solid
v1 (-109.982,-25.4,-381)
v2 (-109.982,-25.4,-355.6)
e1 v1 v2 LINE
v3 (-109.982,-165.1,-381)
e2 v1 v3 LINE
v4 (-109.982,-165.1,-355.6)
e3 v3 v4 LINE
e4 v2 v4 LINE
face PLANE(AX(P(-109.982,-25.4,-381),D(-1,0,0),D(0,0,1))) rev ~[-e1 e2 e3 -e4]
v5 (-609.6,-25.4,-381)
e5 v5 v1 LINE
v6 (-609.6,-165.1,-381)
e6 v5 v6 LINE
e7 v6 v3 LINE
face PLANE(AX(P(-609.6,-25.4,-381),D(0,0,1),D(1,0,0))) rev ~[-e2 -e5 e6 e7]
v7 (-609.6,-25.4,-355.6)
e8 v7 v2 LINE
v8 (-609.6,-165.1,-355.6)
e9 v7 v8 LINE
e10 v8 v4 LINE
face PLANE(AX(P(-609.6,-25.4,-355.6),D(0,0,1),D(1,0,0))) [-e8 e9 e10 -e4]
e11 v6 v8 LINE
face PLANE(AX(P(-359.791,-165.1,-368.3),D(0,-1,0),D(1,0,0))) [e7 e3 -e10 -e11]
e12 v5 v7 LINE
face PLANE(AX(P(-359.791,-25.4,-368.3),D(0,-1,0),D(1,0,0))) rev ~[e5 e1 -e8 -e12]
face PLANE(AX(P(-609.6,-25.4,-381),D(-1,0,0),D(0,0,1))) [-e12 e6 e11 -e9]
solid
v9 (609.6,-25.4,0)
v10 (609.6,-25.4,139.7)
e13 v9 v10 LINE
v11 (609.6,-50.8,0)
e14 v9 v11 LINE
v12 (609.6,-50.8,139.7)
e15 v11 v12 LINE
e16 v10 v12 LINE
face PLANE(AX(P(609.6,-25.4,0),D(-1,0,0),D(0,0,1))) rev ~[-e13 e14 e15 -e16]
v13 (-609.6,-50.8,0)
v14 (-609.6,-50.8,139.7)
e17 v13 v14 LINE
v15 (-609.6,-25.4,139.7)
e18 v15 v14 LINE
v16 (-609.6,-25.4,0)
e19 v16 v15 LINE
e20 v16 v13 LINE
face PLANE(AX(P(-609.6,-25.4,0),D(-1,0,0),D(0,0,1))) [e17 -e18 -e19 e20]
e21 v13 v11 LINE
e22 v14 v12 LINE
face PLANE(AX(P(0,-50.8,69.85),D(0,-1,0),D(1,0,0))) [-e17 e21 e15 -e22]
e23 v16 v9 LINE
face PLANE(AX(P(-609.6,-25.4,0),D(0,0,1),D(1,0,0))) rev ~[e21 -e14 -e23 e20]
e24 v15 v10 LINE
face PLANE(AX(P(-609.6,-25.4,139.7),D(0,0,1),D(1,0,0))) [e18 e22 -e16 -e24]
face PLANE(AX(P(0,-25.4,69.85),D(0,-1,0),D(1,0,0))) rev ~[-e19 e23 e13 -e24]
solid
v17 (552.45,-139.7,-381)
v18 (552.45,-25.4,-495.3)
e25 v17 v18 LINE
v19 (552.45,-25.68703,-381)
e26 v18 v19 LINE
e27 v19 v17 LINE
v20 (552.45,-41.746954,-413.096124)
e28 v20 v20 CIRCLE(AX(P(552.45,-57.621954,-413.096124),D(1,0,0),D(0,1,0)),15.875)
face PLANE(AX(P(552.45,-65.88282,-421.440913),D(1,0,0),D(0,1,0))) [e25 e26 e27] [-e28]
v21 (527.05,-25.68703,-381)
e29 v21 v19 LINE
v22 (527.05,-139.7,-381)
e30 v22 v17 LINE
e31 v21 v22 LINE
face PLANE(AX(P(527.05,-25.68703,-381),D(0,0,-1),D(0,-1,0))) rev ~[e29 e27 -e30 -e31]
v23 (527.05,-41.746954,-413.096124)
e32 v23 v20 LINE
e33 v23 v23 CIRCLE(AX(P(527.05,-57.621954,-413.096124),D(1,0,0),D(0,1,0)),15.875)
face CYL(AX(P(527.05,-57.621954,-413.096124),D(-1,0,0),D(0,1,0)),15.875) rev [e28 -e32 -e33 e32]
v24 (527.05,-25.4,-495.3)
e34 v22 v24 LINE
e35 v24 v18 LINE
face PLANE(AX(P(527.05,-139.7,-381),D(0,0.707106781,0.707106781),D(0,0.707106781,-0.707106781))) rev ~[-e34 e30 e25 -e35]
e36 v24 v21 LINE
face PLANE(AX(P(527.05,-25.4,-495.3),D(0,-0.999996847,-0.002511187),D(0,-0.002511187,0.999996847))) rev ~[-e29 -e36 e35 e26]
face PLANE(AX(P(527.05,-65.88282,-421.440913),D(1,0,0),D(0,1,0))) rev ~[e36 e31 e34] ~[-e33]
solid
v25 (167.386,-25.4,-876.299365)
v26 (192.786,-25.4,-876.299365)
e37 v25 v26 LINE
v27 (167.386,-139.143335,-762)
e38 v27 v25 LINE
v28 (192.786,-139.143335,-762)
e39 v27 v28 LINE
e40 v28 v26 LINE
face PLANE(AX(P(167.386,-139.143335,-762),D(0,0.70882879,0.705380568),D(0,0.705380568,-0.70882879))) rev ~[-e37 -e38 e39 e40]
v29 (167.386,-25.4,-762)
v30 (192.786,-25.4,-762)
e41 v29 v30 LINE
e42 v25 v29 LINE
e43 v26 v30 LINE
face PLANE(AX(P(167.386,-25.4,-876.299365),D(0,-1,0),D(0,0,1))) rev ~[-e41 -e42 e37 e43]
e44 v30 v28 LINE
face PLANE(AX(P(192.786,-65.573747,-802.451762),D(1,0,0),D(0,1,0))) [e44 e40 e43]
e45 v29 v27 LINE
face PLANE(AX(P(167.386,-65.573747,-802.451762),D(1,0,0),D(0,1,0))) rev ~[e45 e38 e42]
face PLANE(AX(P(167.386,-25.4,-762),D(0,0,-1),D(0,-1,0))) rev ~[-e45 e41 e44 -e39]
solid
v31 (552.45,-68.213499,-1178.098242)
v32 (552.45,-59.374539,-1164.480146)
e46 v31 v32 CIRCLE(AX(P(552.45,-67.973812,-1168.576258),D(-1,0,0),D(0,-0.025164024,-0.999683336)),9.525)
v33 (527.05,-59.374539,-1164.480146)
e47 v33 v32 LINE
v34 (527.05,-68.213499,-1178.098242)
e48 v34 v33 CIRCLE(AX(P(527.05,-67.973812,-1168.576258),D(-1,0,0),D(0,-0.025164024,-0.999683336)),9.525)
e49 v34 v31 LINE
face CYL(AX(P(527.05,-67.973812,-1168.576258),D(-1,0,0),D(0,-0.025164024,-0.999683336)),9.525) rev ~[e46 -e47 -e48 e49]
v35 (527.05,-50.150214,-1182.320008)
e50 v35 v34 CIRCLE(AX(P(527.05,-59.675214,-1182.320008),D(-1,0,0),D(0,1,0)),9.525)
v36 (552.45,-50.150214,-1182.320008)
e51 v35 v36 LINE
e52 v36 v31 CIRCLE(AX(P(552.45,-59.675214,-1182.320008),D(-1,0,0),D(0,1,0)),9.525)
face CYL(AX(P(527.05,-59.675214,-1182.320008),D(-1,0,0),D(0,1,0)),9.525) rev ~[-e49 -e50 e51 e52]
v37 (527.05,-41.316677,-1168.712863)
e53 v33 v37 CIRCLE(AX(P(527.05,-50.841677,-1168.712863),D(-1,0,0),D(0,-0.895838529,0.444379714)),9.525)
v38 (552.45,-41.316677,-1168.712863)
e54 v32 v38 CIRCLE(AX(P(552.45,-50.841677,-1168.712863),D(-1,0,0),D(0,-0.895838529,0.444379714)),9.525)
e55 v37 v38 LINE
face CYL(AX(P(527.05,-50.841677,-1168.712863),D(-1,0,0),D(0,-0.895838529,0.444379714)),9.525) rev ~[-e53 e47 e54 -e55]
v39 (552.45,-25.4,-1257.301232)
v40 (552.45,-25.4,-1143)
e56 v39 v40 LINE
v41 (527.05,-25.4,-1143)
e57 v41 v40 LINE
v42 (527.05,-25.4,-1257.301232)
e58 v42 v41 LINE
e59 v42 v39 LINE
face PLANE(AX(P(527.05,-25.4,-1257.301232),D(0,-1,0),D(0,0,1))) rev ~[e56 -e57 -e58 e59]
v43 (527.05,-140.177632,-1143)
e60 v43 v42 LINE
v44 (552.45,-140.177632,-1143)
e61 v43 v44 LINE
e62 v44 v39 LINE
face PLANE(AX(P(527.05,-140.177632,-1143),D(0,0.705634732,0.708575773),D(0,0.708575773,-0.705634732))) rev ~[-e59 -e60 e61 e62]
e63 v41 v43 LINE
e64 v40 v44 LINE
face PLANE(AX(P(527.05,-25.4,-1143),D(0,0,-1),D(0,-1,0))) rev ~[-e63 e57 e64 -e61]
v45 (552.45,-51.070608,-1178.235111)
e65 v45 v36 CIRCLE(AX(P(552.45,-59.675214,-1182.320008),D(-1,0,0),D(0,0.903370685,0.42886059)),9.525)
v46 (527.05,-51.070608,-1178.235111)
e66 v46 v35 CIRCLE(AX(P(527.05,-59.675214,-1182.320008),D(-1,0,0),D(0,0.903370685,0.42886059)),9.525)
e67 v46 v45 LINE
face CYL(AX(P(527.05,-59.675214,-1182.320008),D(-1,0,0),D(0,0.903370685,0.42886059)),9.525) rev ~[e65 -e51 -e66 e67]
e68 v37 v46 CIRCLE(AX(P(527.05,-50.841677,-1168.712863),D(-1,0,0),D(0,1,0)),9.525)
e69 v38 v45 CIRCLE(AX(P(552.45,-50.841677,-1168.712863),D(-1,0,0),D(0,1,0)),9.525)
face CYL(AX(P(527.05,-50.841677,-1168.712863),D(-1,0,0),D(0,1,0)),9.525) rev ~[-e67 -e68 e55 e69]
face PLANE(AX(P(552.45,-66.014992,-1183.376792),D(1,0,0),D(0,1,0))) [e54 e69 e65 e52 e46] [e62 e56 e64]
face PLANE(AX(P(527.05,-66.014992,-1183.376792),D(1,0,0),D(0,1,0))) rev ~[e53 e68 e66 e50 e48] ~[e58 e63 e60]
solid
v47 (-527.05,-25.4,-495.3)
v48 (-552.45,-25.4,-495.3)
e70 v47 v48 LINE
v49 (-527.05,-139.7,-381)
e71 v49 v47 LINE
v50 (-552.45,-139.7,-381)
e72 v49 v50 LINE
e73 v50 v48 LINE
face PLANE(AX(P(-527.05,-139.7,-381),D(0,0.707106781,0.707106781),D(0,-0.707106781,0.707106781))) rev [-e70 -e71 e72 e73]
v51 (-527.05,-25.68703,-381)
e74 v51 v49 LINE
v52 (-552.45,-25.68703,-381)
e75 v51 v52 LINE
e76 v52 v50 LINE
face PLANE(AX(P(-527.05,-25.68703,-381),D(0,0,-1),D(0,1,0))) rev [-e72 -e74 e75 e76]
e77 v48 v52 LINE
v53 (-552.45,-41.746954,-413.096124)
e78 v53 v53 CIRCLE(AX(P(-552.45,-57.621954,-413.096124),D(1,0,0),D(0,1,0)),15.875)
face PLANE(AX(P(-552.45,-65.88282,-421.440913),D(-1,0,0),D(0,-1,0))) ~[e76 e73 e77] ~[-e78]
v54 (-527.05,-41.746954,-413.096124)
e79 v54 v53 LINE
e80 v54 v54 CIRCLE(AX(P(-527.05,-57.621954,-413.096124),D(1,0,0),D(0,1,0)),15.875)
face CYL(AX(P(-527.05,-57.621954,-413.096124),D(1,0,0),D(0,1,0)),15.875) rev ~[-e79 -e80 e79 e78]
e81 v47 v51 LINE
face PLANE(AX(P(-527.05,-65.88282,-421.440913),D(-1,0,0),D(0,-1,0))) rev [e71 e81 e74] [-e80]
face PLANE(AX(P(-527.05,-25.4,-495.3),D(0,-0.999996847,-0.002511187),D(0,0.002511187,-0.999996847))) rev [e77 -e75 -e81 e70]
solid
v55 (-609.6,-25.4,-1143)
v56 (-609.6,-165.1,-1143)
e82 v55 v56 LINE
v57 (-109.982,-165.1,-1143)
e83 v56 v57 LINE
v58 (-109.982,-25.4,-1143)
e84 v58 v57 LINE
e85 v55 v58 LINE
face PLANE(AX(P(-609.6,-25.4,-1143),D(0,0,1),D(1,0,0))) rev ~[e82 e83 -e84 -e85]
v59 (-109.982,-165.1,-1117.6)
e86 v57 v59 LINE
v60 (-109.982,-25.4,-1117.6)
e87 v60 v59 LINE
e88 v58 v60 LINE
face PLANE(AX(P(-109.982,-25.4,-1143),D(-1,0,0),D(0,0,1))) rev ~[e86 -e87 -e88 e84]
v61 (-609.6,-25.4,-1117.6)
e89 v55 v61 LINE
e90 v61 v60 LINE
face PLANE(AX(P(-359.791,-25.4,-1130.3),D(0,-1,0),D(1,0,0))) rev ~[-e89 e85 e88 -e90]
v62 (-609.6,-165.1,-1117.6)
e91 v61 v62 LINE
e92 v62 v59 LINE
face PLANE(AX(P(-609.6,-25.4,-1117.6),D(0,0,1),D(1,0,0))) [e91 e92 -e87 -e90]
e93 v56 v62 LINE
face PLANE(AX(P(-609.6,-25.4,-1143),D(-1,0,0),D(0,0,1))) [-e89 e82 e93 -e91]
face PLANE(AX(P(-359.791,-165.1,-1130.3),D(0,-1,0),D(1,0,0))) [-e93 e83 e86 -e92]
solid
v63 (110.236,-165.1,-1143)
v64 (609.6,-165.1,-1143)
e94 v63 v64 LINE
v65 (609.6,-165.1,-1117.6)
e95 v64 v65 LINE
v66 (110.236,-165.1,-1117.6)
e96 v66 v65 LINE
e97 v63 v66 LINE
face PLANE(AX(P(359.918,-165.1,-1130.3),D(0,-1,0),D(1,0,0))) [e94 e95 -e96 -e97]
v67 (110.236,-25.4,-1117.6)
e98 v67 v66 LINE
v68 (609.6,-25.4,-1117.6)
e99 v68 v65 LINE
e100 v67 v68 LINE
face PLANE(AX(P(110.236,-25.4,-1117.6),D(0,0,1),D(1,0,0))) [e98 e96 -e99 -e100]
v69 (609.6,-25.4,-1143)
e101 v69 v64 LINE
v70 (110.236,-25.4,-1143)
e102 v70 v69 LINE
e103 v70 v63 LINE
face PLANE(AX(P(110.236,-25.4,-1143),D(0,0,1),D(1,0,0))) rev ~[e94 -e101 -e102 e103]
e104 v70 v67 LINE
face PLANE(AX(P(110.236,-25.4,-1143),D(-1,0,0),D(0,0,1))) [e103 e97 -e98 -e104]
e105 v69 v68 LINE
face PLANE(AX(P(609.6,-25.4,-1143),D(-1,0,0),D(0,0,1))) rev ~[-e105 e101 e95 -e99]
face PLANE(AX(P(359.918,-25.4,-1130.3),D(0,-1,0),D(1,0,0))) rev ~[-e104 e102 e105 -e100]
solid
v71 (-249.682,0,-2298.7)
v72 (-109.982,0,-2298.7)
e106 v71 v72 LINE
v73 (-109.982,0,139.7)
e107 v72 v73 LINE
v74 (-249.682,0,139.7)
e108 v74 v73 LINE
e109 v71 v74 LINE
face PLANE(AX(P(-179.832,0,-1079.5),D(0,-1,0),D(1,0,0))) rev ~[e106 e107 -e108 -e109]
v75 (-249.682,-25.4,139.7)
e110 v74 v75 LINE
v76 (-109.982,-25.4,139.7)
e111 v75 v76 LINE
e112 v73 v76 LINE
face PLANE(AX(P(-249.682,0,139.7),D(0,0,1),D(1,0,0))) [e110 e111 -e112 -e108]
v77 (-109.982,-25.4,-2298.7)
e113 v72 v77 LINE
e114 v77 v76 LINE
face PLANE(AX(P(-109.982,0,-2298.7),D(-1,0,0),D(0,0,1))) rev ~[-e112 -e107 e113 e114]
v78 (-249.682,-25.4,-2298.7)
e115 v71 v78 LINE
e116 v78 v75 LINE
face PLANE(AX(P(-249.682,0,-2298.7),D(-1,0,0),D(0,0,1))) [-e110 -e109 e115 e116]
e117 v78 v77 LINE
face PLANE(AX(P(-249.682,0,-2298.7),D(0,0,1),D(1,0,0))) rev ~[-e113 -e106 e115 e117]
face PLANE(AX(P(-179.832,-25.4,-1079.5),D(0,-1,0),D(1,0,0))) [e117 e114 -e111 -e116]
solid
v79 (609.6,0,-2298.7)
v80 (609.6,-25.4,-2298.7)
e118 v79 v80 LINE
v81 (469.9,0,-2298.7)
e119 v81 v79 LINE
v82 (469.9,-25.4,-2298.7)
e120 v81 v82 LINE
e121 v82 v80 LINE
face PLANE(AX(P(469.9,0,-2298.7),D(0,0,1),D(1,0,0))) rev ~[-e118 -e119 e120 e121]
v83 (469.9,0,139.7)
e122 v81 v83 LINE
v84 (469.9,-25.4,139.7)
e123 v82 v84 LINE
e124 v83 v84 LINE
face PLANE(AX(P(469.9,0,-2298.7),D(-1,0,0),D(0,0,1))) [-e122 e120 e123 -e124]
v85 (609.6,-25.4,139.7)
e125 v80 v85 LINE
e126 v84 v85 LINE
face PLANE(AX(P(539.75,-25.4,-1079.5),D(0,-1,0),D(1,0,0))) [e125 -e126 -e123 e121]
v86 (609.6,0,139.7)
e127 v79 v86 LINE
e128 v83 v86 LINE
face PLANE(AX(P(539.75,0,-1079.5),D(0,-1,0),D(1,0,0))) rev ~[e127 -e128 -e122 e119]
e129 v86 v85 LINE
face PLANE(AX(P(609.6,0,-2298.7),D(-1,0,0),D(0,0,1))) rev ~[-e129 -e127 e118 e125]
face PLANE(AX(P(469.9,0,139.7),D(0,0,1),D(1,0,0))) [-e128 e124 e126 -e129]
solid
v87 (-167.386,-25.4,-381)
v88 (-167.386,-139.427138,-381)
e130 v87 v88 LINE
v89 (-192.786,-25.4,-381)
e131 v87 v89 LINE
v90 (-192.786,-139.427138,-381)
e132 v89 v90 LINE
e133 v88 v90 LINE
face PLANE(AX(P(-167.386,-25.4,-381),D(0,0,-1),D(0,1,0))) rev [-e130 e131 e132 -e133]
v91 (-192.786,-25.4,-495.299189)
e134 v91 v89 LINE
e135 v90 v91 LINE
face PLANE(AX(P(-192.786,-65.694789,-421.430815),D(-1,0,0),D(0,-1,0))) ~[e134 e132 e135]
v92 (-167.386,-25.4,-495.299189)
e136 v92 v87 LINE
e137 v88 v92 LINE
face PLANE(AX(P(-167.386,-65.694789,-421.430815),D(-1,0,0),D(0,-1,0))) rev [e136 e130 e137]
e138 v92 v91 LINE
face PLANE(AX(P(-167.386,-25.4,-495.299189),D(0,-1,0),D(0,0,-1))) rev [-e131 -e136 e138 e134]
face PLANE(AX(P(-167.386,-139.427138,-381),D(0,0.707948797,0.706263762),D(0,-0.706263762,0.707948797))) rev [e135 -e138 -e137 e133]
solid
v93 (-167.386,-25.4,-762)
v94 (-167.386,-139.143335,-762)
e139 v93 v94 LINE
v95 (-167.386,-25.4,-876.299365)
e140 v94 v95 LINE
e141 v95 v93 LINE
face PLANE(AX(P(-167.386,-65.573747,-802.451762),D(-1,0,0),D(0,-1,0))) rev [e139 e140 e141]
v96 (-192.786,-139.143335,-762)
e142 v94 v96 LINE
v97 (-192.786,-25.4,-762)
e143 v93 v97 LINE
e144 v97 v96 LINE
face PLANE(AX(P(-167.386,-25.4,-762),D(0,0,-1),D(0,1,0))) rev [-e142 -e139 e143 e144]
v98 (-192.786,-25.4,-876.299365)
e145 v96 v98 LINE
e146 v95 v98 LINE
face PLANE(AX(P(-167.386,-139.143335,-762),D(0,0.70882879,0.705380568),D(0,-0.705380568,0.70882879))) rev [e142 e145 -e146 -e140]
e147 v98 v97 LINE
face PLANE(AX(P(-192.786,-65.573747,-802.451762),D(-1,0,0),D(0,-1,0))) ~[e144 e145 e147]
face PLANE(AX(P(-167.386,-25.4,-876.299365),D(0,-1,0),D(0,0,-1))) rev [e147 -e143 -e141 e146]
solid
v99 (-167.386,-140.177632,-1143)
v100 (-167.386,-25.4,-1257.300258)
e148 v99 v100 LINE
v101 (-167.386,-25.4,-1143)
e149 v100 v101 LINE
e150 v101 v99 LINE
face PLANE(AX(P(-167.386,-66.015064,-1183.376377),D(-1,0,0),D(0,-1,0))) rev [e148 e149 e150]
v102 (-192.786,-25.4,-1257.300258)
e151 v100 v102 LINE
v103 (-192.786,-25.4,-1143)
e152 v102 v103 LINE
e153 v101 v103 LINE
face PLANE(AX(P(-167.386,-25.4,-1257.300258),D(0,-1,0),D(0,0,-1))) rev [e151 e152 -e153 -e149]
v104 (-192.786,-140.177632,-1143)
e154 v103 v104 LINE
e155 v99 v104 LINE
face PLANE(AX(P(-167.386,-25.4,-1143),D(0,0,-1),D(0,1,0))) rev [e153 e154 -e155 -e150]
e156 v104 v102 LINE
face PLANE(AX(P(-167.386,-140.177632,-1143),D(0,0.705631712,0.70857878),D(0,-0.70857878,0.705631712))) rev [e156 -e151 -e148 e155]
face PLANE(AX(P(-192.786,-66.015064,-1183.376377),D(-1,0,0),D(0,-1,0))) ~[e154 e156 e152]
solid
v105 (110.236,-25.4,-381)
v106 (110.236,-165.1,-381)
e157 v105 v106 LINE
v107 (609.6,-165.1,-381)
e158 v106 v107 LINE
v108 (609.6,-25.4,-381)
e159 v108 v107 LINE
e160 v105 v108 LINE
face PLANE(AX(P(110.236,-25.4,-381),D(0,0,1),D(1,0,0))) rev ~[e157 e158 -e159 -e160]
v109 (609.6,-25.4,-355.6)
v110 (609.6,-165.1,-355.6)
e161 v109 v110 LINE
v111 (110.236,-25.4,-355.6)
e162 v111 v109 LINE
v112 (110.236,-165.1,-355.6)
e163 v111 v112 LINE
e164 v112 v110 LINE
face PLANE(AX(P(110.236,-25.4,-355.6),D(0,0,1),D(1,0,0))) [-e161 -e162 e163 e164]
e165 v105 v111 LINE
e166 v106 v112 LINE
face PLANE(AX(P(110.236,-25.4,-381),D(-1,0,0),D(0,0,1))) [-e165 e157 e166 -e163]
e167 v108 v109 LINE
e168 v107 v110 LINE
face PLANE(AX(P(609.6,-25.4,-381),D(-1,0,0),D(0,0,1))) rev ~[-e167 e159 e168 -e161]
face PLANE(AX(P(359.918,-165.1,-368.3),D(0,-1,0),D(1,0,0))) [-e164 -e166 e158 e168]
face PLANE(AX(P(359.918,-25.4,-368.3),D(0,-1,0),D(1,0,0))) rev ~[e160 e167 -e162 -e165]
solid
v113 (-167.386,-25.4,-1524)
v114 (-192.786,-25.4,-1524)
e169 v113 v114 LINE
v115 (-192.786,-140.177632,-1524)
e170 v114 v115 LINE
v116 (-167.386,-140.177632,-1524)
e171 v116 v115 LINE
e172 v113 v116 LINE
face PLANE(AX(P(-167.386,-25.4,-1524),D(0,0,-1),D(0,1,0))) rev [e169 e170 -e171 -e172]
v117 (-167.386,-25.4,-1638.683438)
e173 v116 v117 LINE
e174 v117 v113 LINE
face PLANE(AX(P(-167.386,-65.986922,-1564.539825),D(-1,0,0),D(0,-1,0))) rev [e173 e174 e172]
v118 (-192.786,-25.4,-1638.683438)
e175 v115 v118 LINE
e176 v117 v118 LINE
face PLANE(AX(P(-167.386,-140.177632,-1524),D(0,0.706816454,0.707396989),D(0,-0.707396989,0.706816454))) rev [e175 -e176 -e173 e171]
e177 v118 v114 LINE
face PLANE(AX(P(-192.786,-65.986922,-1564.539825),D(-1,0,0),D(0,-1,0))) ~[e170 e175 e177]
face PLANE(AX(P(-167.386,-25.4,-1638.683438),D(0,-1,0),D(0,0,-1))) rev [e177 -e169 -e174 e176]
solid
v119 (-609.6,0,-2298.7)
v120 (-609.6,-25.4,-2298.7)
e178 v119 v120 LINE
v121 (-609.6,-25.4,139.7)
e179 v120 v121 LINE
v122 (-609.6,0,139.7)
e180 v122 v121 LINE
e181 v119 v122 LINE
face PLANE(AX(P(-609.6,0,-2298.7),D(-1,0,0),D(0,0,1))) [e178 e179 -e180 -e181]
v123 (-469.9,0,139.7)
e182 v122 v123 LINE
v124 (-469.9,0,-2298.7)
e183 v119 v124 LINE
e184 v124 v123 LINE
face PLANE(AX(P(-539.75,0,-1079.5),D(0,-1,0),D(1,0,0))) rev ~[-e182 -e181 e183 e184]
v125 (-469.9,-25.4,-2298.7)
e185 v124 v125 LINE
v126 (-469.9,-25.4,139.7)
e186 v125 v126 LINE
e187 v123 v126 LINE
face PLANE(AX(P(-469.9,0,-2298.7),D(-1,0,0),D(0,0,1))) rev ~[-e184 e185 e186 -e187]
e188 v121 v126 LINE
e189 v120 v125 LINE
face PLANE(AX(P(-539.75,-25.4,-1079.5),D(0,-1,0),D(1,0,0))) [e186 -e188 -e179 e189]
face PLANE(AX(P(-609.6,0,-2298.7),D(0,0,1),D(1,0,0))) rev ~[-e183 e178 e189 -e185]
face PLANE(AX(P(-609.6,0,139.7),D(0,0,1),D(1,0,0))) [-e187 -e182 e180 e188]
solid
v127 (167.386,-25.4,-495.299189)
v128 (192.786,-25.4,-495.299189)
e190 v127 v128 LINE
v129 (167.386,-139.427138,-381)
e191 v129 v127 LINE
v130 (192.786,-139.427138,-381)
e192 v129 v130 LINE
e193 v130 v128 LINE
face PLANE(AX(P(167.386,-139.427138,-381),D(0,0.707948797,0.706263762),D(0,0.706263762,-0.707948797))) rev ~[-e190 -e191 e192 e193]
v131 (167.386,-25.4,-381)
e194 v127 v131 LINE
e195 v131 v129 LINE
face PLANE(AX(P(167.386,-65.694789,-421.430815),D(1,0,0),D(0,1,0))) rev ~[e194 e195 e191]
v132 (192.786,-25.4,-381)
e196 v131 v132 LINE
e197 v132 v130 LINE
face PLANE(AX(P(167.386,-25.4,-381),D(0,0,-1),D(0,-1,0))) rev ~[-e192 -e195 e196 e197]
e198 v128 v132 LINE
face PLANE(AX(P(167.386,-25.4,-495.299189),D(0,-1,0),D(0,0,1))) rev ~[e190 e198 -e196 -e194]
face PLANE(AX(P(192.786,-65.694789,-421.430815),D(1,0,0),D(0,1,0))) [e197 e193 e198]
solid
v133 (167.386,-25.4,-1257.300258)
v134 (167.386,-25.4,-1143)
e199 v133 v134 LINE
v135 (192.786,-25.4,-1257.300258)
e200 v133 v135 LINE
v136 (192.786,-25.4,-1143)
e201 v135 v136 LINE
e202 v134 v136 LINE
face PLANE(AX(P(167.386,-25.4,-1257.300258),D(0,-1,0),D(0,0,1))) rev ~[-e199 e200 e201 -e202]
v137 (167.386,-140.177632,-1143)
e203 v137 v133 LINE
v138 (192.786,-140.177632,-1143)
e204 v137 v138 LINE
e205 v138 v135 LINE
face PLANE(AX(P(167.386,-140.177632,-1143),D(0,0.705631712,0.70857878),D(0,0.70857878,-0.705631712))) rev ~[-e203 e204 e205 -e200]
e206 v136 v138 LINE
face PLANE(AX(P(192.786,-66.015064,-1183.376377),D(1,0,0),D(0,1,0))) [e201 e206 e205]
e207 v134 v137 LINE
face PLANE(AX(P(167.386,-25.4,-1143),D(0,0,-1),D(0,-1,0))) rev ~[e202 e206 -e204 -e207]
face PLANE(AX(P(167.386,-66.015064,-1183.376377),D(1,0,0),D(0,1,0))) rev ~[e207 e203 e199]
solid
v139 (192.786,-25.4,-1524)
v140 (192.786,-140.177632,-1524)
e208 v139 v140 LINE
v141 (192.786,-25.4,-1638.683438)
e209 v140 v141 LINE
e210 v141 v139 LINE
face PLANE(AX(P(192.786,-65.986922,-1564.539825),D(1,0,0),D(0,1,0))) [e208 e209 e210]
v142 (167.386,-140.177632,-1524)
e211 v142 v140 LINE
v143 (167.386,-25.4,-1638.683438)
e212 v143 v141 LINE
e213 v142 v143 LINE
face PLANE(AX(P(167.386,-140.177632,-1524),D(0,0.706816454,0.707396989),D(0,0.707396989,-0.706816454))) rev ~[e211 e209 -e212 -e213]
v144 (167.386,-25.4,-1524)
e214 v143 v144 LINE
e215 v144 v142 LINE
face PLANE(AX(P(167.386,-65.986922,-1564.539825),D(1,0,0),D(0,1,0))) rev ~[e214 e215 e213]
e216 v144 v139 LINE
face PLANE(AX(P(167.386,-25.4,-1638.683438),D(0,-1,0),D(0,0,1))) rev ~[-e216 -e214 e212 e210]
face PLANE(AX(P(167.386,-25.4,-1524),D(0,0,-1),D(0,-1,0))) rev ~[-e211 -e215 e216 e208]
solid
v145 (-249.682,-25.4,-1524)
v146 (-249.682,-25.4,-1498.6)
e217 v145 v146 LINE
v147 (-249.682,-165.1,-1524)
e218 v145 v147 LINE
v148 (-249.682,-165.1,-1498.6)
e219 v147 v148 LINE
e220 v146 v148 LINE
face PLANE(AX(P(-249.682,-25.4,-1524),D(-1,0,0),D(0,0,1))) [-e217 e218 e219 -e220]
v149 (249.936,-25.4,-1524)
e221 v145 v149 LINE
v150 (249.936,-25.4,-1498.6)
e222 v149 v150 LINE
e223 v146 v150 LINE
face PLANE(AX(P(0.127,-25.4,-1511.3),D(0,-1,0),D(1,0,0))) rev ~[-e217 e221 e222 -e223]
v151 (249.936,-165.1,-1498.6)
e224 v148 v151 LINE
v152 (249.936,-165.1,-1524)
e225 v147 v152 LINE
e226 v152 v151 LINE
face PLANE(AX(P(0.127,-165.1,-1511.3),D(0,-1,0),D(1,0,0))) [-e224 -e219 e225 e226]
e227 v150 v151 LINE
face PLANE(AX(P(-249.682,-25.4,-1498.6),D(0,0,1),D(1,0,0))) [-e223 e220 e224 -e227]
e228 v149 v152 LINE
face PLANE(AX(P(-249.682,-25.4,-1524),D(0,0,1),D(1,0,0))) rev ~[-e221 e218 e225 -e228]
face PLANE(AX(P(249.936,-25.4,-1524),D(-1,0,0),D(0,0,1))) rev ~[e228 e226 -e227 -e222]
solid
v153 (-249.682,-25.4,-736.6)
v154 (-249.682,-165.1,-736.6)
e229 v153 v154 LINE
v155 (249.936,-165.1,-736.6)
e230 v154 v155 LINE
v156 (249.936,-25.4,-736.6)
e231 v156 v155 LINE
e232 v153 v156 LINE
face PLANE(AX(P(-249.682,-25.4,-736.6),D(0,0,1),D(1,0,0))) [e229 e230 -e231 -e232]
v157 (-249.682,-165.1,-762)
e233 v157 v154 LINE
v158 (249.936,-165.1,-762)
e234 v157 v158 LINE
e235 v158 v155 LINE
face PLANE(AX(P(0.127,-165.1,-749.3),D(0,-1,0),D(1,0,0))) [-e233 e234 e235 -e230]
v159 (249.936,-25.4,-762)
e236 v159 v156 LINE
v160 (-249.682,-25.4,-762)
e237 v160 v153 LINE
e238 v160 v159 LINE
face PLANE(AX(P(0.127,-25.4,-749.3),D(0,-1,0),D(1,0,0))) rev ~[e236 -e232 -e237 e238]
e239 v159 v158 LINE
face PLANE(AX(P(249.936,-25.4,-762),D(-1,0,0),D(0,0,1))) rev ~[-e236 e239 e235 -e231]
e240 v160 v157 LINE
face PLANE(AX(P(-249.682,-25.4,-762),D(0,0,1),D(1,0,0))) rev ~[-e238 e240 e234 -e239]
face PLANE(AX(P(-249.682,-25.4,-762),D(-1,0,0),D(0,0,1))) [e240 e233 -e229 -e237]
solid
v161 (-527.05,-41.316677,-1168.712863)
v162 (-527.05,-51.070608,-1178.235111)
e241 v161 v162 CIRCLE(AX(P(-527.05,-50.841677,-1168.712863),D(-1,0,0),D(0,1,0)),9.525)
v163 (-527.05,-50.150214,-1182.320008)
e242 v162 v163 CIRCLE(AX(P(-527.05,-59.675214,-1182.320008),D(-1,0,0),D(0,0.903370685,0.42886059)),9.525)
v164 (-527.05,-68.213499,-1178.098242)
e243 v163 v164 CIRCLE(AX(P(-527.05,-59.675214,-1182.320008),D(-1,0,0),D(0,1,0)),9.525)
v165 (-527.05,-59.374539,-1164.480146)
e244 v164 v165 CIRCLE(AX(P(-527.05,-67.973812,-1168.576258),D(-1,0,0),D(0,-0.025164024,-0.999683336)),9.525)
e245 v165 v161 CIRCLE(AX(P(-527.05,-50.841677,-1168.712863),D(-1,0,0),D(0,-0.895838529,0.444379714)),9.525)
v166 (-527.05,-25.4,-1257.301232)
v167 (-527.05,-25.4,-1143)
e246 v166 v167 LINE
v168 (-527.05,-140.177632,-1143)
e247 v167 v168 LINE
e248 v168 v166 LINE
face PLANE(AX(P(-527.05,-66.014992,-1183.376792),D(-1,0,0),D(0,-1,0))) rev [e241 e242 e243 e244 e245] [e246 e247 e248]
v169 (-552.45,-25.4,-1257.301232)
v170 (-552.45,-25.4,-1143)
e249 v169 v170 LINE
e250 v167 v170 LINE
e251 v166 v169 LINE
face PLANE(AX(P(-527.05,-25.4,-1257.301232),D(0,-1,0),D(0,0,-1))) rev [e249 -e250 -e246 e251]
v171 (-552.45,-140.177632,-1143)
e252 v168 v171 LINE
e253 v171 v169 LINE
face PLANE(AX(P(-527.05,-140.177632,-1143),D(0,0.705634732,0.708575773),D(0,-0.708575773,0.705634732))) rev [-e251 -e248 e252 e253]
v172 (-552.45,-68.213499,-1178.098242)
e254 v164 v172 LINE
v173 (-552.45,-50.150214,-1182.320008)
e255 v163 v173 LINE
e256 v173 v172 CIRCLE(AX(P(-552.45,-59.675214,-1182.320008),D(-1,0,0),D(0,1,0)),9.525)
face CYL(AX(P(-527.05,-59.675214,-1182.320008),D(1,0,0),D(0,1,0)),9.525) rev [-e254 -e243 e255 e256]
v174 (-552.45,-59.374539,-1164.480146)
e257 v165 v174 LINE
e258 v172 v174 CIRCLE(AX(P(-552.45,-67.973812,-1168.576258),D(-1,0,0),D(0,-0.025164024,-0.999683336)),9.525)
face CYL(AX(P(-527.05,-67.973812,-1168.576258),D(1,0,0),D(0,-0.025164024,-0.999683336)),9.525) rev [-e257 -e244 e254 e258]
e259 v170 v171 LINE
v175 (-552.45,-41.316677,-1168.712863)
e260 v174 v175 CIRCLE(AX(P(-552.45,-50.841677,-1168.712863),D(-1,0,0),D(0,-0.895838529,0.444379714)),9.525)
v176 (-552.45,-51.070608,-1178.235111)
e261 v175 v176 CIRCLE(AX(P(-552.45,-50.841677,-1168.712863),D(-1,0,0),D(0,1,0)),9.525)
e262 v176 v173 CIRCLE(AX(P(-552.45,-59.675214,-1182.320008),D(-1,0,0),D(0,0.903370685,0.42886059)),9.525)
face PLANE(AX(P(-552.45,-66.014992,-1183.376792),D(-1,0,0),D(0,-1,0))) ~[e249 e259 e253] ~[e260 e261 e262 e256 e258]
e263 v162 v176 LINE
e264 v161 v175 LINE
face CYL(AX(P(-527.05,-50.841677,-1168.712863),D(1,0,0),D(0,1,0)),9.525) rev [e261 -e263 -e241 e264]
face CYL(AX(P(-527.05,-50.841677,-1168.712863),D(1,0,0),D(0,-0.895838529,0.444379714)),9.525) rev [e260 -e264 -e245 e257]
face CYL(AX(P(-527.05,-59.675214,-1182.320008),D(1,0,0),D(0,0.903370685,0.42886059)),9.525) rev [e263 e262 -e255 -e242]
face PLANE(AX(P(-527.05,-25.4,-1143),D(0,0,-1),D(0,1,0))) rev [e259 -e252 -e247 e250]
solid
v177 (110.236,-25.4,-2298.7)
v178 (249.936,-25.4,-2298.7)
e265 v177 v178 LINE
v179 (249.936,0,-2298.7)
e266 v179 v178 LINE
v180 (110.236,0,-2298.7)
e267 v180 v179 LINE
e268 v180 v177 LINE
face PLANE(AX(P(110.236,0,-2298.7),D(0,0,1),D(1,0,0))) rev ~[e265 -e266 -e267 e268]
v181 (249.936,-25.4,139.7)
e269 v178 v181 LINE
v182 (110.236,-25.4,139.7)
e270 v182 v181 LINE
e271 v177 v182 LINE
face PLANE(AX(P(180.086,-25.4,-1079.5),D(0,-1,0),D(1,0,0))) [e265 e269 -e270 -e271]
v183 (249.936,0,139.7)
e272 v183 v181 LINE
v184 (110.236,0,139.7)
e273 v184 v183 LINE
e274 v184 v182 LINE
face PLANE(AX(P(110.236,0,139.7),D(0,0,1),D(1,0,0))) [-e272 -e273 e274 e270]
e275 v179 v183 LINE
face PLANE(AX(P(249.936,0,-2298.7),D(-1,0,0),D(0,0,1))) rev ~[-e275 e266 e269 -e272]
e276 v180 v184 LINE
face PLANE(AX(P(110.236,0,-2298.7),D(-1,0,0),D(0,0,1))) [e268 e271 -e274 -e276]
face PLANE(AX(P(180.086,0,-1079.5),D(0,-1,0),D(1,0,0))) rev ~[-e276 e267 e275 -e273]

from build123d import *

# Parameters (mm, degrees)
F2_W      = 139.7
F2_H      = 2438.4
F3_DEPTH  = 25.4
F1_W      = 1219.2
F1_H      = 139.7
F4_DEPTH  = 25.4
F5_W      = 499.618
F5_H      = 25.4
F6_DEPTH  = 139.7
F5_W_2    = 499.364
F8_R      = 15.875
F9_DEPTH  = 25.4
F12_DEPTH = 25.4


with BuildPart() as f3:
    # F2 (on Front) → F3 (new body)
    with BuildSketch(Plane.XZ):
        with Locations((-539.75, -1079.5)):
            Rectangle(F2_W, F2_H)
    extrude(amount=F3_DEPTH)


with BuildPart() as f3b:
    # F2 (on Front) → F3, piece 2 (new body)
    with BuildSketch(Plane.XZ):
        with Locations((180.086, -1079.5)):
            Rectangle(F2_W, F2_H)
    extrude(amount=F3_DEPTH)


with BuildPart() as f3c:
    # F2 (on Front) → F3, piece 3 (new body)
    with BuildSketch(Plane.XZ):
        with Locations((539.75, -1079.5)):
            Rectangle(F2_W, F2_H)
    extrude(amount=F3_DEPTH)


with BuildPart() as f3d:
    # F2 (on Front) → F3, piece 4 (new body)
    with BuildSketch(Plane.XZ):
        with Locations((-179.832, -1079.5)):
            Rectangle(F2_W, F2_H)
    extrude(amount=F3_DEPTH)


with BuildPart() as f4:
    # F1 (on offset) → F4 (new body)
    with BuildSketch(Plane.XZ.offset(25.4)):
        with Locations((0, 69.85)):
            Rectangle(F1_W, F1_H)
    extrude(amount=F4_DEPTH)


with BuildPart() as f6:
    # F5 (on face) → F6 (new body)
    with BuildSketch(Plane.XZ.offset(25.4)):
        with Locations((-359.791, -368.3)):
            Rectangle(F5_W, F5_H)
    extrude(amount=F6_DEPTH)


with BuildPart() as f6b:
    # F5 (on face) → F6, piece 2 (new body)
    with BuildSketch(Plane.XZ.offset(25.4)):
        with Locations((0.127, -749.3)):
            Rectangle(F5_W, F5_H)
    extrude(amount=F6_DEPTH)


with BuildPart() as f6c:
    # F5 (on face) → F6, piece 3 (new body)
    with BuildSketch(Plane.XZ.offset(25.4)):
        with Locations((359.918, -368.3)):
            Rectangle(F5_W_2, F5_H)
    extrude(amount=F6_DEPTH)


with BuildPart() as f6d:
    # F5 (on face) → F6, piece 4 (new body)
    with BuildSketch(Plane.XZ.offset(25.4)):
        with Locations((-359.791, -1130.3)):
            Rectangle(F5_W, F5_H)
    extrude(amount=F6_DEPTH)


with BuildPart() as f6e:
    # F5 (on face) → F6, piece 5 (new body)
    with BuildSketch(Plane.XZ.offset(25.4)):
        with Locations((0.127, -1511.3)):
            Rectangle(F5_W, F5_H)
    extrude(amount=F6_DEPTH)


with BuildPart() as f6f:
    # F5 (on face) → F6, piece 6 (new body)
    with BuildSketch(Plane.XZ.offset(25.4)):
        with Locations((359.918, -1130.3)):
            Rectangle(F5_W_2, F5_H)
    extrude(amount=F6_DEPTH)


with BuildPart() as f9:
    # F8 (on offset) → F9 (new body)
    with BuildSketch(Plane.YZ.offset(527.05)):
        Polygon((-139.7, -381), (-25.4, -495.3), (-25.6870295873, -381), align=None)
        with Locations((-57.6219541111, -413.0961237742)):
            Circle(F8_R, mode=Mode.SUBTRACT)
    extrude(amount=F9_DEPTH)


with BuildPart() as f9b:
    # F8 (on offset) → F9, piece 2 (new body)
    with BuildSketch(Plane.YZ.offset(527.05)):
        Polygon((-140.1776322007, -1143), (-25.4, -1257.3012319016), (-25.4, -1143), align=None)
        with BuildLine():
            ThreePointArc((-68.2134990621, -1178.0982422456), (-75.9634175951, -1163.3905258093), (-59.374539165, -1164.4801461424))
            ThreePointArc((-59.374539165, -1164.4801461424), (-48.6679574891, -1159.4392138085), (-41.3166771753, -1168.7128629137))
            ThreePointArc((-41.3166771753, -1168.7128629137), (-44.1879166442, -1175.5285137112), (-51.0706080508, -1178.2351113695))
            ThreePointArc((-51.0706080508, -1178.2351113695), (-50.3831609032, -1180.2263567741), (-50.1502138249, -1182.3200084884))
            ThreePointArc((-50.1502138249, -1182.3200084884), (-61.842984352, -1191.5950500485), (-68.2134990621, -1178.0982422456))
        make_face(mode=Mode.SUBTRACT)
    extrude(amount=F9_DEPTH)


with BuildPart() as f12:
    # F11 (on offset) → F12 (new body)
    with BuildSketch(Plane.YZ.offset(167.386)):
        Polygon((-139.4271376938, -381), (-25.4, -495.2991886284), (-25.4, -381), align=None)
    extrude(amount=F12_DEPTH)


with BuildPart() as f12b:
    # F11 (on offset) → F12, piece 2 (new body)
    with BuildSketch(Plane.YZ.offset(167.386)):
        Polygon((-140.1776322007, -1143), (-25.4, -1257.3002576828), (-25.4, -1143), align=None)
    extrude(amount=F12_DEPTH)


with BuildPart() as f12c:
    # F11 (on offset) → F12, piece 3 (new body)
    with BuildSketch(Plane.YZ.offset(167.386)):
        Polygon((-139.1433354586, -762), (-25.4, -876.299364799), (-25.4, -762), align=None)
    extrude(amount=F12_DEPTH)


with BuildPart() as f12d:
    # F11 (on offset) → F12, piece 4 (new body)
    with BuildSketch(Plane.YZ.offset(167.386)):
        Polygon((-140.1776322007, -1524), (-25.4, -1638.6834383011), (-25.4, -1524), align=None)
    extrude(amount=F12_DEPTH)


with BuildPart() as f13_1:
    # F13: instance of F12
    add(f12.part.mirror(Plane.YZ))


with BuildPart() as f13_2:
    # F13: instance of F9
    add(f9.part.mirror(Plane.YZ))


with BuildPart() as f13_3:
    # F13: instance of F12c
    add(f12c.part.mirror(Plane.YZ))


with BuildPart() as f13_4:
    # F13: instance of F12b
    add(f12b.part.mirror(Plane.YZ))


with BuildPart() as f13_5:
    # F13: instance of F9b
    add(f9b.part.mirror(Plane.YZ))


with BuildPart() as f13_6:
    # F13: instance of F12d
    add(f12d.part.mirror(Plane.YZ))


solid = Compound([f3.part, f3b.part, f3c.part, f3d.part, f4.part, f6.part, f6b.part, f6c.part, f6d.part, f6e.part, f6f.part, f9.part, f9b.part, f12.part, f12b.part, f12c.part, f12d.part, f13_1.part, f13_2.part, f13_3.part, f13_4.part, f13_5.part, f13_6.part])
